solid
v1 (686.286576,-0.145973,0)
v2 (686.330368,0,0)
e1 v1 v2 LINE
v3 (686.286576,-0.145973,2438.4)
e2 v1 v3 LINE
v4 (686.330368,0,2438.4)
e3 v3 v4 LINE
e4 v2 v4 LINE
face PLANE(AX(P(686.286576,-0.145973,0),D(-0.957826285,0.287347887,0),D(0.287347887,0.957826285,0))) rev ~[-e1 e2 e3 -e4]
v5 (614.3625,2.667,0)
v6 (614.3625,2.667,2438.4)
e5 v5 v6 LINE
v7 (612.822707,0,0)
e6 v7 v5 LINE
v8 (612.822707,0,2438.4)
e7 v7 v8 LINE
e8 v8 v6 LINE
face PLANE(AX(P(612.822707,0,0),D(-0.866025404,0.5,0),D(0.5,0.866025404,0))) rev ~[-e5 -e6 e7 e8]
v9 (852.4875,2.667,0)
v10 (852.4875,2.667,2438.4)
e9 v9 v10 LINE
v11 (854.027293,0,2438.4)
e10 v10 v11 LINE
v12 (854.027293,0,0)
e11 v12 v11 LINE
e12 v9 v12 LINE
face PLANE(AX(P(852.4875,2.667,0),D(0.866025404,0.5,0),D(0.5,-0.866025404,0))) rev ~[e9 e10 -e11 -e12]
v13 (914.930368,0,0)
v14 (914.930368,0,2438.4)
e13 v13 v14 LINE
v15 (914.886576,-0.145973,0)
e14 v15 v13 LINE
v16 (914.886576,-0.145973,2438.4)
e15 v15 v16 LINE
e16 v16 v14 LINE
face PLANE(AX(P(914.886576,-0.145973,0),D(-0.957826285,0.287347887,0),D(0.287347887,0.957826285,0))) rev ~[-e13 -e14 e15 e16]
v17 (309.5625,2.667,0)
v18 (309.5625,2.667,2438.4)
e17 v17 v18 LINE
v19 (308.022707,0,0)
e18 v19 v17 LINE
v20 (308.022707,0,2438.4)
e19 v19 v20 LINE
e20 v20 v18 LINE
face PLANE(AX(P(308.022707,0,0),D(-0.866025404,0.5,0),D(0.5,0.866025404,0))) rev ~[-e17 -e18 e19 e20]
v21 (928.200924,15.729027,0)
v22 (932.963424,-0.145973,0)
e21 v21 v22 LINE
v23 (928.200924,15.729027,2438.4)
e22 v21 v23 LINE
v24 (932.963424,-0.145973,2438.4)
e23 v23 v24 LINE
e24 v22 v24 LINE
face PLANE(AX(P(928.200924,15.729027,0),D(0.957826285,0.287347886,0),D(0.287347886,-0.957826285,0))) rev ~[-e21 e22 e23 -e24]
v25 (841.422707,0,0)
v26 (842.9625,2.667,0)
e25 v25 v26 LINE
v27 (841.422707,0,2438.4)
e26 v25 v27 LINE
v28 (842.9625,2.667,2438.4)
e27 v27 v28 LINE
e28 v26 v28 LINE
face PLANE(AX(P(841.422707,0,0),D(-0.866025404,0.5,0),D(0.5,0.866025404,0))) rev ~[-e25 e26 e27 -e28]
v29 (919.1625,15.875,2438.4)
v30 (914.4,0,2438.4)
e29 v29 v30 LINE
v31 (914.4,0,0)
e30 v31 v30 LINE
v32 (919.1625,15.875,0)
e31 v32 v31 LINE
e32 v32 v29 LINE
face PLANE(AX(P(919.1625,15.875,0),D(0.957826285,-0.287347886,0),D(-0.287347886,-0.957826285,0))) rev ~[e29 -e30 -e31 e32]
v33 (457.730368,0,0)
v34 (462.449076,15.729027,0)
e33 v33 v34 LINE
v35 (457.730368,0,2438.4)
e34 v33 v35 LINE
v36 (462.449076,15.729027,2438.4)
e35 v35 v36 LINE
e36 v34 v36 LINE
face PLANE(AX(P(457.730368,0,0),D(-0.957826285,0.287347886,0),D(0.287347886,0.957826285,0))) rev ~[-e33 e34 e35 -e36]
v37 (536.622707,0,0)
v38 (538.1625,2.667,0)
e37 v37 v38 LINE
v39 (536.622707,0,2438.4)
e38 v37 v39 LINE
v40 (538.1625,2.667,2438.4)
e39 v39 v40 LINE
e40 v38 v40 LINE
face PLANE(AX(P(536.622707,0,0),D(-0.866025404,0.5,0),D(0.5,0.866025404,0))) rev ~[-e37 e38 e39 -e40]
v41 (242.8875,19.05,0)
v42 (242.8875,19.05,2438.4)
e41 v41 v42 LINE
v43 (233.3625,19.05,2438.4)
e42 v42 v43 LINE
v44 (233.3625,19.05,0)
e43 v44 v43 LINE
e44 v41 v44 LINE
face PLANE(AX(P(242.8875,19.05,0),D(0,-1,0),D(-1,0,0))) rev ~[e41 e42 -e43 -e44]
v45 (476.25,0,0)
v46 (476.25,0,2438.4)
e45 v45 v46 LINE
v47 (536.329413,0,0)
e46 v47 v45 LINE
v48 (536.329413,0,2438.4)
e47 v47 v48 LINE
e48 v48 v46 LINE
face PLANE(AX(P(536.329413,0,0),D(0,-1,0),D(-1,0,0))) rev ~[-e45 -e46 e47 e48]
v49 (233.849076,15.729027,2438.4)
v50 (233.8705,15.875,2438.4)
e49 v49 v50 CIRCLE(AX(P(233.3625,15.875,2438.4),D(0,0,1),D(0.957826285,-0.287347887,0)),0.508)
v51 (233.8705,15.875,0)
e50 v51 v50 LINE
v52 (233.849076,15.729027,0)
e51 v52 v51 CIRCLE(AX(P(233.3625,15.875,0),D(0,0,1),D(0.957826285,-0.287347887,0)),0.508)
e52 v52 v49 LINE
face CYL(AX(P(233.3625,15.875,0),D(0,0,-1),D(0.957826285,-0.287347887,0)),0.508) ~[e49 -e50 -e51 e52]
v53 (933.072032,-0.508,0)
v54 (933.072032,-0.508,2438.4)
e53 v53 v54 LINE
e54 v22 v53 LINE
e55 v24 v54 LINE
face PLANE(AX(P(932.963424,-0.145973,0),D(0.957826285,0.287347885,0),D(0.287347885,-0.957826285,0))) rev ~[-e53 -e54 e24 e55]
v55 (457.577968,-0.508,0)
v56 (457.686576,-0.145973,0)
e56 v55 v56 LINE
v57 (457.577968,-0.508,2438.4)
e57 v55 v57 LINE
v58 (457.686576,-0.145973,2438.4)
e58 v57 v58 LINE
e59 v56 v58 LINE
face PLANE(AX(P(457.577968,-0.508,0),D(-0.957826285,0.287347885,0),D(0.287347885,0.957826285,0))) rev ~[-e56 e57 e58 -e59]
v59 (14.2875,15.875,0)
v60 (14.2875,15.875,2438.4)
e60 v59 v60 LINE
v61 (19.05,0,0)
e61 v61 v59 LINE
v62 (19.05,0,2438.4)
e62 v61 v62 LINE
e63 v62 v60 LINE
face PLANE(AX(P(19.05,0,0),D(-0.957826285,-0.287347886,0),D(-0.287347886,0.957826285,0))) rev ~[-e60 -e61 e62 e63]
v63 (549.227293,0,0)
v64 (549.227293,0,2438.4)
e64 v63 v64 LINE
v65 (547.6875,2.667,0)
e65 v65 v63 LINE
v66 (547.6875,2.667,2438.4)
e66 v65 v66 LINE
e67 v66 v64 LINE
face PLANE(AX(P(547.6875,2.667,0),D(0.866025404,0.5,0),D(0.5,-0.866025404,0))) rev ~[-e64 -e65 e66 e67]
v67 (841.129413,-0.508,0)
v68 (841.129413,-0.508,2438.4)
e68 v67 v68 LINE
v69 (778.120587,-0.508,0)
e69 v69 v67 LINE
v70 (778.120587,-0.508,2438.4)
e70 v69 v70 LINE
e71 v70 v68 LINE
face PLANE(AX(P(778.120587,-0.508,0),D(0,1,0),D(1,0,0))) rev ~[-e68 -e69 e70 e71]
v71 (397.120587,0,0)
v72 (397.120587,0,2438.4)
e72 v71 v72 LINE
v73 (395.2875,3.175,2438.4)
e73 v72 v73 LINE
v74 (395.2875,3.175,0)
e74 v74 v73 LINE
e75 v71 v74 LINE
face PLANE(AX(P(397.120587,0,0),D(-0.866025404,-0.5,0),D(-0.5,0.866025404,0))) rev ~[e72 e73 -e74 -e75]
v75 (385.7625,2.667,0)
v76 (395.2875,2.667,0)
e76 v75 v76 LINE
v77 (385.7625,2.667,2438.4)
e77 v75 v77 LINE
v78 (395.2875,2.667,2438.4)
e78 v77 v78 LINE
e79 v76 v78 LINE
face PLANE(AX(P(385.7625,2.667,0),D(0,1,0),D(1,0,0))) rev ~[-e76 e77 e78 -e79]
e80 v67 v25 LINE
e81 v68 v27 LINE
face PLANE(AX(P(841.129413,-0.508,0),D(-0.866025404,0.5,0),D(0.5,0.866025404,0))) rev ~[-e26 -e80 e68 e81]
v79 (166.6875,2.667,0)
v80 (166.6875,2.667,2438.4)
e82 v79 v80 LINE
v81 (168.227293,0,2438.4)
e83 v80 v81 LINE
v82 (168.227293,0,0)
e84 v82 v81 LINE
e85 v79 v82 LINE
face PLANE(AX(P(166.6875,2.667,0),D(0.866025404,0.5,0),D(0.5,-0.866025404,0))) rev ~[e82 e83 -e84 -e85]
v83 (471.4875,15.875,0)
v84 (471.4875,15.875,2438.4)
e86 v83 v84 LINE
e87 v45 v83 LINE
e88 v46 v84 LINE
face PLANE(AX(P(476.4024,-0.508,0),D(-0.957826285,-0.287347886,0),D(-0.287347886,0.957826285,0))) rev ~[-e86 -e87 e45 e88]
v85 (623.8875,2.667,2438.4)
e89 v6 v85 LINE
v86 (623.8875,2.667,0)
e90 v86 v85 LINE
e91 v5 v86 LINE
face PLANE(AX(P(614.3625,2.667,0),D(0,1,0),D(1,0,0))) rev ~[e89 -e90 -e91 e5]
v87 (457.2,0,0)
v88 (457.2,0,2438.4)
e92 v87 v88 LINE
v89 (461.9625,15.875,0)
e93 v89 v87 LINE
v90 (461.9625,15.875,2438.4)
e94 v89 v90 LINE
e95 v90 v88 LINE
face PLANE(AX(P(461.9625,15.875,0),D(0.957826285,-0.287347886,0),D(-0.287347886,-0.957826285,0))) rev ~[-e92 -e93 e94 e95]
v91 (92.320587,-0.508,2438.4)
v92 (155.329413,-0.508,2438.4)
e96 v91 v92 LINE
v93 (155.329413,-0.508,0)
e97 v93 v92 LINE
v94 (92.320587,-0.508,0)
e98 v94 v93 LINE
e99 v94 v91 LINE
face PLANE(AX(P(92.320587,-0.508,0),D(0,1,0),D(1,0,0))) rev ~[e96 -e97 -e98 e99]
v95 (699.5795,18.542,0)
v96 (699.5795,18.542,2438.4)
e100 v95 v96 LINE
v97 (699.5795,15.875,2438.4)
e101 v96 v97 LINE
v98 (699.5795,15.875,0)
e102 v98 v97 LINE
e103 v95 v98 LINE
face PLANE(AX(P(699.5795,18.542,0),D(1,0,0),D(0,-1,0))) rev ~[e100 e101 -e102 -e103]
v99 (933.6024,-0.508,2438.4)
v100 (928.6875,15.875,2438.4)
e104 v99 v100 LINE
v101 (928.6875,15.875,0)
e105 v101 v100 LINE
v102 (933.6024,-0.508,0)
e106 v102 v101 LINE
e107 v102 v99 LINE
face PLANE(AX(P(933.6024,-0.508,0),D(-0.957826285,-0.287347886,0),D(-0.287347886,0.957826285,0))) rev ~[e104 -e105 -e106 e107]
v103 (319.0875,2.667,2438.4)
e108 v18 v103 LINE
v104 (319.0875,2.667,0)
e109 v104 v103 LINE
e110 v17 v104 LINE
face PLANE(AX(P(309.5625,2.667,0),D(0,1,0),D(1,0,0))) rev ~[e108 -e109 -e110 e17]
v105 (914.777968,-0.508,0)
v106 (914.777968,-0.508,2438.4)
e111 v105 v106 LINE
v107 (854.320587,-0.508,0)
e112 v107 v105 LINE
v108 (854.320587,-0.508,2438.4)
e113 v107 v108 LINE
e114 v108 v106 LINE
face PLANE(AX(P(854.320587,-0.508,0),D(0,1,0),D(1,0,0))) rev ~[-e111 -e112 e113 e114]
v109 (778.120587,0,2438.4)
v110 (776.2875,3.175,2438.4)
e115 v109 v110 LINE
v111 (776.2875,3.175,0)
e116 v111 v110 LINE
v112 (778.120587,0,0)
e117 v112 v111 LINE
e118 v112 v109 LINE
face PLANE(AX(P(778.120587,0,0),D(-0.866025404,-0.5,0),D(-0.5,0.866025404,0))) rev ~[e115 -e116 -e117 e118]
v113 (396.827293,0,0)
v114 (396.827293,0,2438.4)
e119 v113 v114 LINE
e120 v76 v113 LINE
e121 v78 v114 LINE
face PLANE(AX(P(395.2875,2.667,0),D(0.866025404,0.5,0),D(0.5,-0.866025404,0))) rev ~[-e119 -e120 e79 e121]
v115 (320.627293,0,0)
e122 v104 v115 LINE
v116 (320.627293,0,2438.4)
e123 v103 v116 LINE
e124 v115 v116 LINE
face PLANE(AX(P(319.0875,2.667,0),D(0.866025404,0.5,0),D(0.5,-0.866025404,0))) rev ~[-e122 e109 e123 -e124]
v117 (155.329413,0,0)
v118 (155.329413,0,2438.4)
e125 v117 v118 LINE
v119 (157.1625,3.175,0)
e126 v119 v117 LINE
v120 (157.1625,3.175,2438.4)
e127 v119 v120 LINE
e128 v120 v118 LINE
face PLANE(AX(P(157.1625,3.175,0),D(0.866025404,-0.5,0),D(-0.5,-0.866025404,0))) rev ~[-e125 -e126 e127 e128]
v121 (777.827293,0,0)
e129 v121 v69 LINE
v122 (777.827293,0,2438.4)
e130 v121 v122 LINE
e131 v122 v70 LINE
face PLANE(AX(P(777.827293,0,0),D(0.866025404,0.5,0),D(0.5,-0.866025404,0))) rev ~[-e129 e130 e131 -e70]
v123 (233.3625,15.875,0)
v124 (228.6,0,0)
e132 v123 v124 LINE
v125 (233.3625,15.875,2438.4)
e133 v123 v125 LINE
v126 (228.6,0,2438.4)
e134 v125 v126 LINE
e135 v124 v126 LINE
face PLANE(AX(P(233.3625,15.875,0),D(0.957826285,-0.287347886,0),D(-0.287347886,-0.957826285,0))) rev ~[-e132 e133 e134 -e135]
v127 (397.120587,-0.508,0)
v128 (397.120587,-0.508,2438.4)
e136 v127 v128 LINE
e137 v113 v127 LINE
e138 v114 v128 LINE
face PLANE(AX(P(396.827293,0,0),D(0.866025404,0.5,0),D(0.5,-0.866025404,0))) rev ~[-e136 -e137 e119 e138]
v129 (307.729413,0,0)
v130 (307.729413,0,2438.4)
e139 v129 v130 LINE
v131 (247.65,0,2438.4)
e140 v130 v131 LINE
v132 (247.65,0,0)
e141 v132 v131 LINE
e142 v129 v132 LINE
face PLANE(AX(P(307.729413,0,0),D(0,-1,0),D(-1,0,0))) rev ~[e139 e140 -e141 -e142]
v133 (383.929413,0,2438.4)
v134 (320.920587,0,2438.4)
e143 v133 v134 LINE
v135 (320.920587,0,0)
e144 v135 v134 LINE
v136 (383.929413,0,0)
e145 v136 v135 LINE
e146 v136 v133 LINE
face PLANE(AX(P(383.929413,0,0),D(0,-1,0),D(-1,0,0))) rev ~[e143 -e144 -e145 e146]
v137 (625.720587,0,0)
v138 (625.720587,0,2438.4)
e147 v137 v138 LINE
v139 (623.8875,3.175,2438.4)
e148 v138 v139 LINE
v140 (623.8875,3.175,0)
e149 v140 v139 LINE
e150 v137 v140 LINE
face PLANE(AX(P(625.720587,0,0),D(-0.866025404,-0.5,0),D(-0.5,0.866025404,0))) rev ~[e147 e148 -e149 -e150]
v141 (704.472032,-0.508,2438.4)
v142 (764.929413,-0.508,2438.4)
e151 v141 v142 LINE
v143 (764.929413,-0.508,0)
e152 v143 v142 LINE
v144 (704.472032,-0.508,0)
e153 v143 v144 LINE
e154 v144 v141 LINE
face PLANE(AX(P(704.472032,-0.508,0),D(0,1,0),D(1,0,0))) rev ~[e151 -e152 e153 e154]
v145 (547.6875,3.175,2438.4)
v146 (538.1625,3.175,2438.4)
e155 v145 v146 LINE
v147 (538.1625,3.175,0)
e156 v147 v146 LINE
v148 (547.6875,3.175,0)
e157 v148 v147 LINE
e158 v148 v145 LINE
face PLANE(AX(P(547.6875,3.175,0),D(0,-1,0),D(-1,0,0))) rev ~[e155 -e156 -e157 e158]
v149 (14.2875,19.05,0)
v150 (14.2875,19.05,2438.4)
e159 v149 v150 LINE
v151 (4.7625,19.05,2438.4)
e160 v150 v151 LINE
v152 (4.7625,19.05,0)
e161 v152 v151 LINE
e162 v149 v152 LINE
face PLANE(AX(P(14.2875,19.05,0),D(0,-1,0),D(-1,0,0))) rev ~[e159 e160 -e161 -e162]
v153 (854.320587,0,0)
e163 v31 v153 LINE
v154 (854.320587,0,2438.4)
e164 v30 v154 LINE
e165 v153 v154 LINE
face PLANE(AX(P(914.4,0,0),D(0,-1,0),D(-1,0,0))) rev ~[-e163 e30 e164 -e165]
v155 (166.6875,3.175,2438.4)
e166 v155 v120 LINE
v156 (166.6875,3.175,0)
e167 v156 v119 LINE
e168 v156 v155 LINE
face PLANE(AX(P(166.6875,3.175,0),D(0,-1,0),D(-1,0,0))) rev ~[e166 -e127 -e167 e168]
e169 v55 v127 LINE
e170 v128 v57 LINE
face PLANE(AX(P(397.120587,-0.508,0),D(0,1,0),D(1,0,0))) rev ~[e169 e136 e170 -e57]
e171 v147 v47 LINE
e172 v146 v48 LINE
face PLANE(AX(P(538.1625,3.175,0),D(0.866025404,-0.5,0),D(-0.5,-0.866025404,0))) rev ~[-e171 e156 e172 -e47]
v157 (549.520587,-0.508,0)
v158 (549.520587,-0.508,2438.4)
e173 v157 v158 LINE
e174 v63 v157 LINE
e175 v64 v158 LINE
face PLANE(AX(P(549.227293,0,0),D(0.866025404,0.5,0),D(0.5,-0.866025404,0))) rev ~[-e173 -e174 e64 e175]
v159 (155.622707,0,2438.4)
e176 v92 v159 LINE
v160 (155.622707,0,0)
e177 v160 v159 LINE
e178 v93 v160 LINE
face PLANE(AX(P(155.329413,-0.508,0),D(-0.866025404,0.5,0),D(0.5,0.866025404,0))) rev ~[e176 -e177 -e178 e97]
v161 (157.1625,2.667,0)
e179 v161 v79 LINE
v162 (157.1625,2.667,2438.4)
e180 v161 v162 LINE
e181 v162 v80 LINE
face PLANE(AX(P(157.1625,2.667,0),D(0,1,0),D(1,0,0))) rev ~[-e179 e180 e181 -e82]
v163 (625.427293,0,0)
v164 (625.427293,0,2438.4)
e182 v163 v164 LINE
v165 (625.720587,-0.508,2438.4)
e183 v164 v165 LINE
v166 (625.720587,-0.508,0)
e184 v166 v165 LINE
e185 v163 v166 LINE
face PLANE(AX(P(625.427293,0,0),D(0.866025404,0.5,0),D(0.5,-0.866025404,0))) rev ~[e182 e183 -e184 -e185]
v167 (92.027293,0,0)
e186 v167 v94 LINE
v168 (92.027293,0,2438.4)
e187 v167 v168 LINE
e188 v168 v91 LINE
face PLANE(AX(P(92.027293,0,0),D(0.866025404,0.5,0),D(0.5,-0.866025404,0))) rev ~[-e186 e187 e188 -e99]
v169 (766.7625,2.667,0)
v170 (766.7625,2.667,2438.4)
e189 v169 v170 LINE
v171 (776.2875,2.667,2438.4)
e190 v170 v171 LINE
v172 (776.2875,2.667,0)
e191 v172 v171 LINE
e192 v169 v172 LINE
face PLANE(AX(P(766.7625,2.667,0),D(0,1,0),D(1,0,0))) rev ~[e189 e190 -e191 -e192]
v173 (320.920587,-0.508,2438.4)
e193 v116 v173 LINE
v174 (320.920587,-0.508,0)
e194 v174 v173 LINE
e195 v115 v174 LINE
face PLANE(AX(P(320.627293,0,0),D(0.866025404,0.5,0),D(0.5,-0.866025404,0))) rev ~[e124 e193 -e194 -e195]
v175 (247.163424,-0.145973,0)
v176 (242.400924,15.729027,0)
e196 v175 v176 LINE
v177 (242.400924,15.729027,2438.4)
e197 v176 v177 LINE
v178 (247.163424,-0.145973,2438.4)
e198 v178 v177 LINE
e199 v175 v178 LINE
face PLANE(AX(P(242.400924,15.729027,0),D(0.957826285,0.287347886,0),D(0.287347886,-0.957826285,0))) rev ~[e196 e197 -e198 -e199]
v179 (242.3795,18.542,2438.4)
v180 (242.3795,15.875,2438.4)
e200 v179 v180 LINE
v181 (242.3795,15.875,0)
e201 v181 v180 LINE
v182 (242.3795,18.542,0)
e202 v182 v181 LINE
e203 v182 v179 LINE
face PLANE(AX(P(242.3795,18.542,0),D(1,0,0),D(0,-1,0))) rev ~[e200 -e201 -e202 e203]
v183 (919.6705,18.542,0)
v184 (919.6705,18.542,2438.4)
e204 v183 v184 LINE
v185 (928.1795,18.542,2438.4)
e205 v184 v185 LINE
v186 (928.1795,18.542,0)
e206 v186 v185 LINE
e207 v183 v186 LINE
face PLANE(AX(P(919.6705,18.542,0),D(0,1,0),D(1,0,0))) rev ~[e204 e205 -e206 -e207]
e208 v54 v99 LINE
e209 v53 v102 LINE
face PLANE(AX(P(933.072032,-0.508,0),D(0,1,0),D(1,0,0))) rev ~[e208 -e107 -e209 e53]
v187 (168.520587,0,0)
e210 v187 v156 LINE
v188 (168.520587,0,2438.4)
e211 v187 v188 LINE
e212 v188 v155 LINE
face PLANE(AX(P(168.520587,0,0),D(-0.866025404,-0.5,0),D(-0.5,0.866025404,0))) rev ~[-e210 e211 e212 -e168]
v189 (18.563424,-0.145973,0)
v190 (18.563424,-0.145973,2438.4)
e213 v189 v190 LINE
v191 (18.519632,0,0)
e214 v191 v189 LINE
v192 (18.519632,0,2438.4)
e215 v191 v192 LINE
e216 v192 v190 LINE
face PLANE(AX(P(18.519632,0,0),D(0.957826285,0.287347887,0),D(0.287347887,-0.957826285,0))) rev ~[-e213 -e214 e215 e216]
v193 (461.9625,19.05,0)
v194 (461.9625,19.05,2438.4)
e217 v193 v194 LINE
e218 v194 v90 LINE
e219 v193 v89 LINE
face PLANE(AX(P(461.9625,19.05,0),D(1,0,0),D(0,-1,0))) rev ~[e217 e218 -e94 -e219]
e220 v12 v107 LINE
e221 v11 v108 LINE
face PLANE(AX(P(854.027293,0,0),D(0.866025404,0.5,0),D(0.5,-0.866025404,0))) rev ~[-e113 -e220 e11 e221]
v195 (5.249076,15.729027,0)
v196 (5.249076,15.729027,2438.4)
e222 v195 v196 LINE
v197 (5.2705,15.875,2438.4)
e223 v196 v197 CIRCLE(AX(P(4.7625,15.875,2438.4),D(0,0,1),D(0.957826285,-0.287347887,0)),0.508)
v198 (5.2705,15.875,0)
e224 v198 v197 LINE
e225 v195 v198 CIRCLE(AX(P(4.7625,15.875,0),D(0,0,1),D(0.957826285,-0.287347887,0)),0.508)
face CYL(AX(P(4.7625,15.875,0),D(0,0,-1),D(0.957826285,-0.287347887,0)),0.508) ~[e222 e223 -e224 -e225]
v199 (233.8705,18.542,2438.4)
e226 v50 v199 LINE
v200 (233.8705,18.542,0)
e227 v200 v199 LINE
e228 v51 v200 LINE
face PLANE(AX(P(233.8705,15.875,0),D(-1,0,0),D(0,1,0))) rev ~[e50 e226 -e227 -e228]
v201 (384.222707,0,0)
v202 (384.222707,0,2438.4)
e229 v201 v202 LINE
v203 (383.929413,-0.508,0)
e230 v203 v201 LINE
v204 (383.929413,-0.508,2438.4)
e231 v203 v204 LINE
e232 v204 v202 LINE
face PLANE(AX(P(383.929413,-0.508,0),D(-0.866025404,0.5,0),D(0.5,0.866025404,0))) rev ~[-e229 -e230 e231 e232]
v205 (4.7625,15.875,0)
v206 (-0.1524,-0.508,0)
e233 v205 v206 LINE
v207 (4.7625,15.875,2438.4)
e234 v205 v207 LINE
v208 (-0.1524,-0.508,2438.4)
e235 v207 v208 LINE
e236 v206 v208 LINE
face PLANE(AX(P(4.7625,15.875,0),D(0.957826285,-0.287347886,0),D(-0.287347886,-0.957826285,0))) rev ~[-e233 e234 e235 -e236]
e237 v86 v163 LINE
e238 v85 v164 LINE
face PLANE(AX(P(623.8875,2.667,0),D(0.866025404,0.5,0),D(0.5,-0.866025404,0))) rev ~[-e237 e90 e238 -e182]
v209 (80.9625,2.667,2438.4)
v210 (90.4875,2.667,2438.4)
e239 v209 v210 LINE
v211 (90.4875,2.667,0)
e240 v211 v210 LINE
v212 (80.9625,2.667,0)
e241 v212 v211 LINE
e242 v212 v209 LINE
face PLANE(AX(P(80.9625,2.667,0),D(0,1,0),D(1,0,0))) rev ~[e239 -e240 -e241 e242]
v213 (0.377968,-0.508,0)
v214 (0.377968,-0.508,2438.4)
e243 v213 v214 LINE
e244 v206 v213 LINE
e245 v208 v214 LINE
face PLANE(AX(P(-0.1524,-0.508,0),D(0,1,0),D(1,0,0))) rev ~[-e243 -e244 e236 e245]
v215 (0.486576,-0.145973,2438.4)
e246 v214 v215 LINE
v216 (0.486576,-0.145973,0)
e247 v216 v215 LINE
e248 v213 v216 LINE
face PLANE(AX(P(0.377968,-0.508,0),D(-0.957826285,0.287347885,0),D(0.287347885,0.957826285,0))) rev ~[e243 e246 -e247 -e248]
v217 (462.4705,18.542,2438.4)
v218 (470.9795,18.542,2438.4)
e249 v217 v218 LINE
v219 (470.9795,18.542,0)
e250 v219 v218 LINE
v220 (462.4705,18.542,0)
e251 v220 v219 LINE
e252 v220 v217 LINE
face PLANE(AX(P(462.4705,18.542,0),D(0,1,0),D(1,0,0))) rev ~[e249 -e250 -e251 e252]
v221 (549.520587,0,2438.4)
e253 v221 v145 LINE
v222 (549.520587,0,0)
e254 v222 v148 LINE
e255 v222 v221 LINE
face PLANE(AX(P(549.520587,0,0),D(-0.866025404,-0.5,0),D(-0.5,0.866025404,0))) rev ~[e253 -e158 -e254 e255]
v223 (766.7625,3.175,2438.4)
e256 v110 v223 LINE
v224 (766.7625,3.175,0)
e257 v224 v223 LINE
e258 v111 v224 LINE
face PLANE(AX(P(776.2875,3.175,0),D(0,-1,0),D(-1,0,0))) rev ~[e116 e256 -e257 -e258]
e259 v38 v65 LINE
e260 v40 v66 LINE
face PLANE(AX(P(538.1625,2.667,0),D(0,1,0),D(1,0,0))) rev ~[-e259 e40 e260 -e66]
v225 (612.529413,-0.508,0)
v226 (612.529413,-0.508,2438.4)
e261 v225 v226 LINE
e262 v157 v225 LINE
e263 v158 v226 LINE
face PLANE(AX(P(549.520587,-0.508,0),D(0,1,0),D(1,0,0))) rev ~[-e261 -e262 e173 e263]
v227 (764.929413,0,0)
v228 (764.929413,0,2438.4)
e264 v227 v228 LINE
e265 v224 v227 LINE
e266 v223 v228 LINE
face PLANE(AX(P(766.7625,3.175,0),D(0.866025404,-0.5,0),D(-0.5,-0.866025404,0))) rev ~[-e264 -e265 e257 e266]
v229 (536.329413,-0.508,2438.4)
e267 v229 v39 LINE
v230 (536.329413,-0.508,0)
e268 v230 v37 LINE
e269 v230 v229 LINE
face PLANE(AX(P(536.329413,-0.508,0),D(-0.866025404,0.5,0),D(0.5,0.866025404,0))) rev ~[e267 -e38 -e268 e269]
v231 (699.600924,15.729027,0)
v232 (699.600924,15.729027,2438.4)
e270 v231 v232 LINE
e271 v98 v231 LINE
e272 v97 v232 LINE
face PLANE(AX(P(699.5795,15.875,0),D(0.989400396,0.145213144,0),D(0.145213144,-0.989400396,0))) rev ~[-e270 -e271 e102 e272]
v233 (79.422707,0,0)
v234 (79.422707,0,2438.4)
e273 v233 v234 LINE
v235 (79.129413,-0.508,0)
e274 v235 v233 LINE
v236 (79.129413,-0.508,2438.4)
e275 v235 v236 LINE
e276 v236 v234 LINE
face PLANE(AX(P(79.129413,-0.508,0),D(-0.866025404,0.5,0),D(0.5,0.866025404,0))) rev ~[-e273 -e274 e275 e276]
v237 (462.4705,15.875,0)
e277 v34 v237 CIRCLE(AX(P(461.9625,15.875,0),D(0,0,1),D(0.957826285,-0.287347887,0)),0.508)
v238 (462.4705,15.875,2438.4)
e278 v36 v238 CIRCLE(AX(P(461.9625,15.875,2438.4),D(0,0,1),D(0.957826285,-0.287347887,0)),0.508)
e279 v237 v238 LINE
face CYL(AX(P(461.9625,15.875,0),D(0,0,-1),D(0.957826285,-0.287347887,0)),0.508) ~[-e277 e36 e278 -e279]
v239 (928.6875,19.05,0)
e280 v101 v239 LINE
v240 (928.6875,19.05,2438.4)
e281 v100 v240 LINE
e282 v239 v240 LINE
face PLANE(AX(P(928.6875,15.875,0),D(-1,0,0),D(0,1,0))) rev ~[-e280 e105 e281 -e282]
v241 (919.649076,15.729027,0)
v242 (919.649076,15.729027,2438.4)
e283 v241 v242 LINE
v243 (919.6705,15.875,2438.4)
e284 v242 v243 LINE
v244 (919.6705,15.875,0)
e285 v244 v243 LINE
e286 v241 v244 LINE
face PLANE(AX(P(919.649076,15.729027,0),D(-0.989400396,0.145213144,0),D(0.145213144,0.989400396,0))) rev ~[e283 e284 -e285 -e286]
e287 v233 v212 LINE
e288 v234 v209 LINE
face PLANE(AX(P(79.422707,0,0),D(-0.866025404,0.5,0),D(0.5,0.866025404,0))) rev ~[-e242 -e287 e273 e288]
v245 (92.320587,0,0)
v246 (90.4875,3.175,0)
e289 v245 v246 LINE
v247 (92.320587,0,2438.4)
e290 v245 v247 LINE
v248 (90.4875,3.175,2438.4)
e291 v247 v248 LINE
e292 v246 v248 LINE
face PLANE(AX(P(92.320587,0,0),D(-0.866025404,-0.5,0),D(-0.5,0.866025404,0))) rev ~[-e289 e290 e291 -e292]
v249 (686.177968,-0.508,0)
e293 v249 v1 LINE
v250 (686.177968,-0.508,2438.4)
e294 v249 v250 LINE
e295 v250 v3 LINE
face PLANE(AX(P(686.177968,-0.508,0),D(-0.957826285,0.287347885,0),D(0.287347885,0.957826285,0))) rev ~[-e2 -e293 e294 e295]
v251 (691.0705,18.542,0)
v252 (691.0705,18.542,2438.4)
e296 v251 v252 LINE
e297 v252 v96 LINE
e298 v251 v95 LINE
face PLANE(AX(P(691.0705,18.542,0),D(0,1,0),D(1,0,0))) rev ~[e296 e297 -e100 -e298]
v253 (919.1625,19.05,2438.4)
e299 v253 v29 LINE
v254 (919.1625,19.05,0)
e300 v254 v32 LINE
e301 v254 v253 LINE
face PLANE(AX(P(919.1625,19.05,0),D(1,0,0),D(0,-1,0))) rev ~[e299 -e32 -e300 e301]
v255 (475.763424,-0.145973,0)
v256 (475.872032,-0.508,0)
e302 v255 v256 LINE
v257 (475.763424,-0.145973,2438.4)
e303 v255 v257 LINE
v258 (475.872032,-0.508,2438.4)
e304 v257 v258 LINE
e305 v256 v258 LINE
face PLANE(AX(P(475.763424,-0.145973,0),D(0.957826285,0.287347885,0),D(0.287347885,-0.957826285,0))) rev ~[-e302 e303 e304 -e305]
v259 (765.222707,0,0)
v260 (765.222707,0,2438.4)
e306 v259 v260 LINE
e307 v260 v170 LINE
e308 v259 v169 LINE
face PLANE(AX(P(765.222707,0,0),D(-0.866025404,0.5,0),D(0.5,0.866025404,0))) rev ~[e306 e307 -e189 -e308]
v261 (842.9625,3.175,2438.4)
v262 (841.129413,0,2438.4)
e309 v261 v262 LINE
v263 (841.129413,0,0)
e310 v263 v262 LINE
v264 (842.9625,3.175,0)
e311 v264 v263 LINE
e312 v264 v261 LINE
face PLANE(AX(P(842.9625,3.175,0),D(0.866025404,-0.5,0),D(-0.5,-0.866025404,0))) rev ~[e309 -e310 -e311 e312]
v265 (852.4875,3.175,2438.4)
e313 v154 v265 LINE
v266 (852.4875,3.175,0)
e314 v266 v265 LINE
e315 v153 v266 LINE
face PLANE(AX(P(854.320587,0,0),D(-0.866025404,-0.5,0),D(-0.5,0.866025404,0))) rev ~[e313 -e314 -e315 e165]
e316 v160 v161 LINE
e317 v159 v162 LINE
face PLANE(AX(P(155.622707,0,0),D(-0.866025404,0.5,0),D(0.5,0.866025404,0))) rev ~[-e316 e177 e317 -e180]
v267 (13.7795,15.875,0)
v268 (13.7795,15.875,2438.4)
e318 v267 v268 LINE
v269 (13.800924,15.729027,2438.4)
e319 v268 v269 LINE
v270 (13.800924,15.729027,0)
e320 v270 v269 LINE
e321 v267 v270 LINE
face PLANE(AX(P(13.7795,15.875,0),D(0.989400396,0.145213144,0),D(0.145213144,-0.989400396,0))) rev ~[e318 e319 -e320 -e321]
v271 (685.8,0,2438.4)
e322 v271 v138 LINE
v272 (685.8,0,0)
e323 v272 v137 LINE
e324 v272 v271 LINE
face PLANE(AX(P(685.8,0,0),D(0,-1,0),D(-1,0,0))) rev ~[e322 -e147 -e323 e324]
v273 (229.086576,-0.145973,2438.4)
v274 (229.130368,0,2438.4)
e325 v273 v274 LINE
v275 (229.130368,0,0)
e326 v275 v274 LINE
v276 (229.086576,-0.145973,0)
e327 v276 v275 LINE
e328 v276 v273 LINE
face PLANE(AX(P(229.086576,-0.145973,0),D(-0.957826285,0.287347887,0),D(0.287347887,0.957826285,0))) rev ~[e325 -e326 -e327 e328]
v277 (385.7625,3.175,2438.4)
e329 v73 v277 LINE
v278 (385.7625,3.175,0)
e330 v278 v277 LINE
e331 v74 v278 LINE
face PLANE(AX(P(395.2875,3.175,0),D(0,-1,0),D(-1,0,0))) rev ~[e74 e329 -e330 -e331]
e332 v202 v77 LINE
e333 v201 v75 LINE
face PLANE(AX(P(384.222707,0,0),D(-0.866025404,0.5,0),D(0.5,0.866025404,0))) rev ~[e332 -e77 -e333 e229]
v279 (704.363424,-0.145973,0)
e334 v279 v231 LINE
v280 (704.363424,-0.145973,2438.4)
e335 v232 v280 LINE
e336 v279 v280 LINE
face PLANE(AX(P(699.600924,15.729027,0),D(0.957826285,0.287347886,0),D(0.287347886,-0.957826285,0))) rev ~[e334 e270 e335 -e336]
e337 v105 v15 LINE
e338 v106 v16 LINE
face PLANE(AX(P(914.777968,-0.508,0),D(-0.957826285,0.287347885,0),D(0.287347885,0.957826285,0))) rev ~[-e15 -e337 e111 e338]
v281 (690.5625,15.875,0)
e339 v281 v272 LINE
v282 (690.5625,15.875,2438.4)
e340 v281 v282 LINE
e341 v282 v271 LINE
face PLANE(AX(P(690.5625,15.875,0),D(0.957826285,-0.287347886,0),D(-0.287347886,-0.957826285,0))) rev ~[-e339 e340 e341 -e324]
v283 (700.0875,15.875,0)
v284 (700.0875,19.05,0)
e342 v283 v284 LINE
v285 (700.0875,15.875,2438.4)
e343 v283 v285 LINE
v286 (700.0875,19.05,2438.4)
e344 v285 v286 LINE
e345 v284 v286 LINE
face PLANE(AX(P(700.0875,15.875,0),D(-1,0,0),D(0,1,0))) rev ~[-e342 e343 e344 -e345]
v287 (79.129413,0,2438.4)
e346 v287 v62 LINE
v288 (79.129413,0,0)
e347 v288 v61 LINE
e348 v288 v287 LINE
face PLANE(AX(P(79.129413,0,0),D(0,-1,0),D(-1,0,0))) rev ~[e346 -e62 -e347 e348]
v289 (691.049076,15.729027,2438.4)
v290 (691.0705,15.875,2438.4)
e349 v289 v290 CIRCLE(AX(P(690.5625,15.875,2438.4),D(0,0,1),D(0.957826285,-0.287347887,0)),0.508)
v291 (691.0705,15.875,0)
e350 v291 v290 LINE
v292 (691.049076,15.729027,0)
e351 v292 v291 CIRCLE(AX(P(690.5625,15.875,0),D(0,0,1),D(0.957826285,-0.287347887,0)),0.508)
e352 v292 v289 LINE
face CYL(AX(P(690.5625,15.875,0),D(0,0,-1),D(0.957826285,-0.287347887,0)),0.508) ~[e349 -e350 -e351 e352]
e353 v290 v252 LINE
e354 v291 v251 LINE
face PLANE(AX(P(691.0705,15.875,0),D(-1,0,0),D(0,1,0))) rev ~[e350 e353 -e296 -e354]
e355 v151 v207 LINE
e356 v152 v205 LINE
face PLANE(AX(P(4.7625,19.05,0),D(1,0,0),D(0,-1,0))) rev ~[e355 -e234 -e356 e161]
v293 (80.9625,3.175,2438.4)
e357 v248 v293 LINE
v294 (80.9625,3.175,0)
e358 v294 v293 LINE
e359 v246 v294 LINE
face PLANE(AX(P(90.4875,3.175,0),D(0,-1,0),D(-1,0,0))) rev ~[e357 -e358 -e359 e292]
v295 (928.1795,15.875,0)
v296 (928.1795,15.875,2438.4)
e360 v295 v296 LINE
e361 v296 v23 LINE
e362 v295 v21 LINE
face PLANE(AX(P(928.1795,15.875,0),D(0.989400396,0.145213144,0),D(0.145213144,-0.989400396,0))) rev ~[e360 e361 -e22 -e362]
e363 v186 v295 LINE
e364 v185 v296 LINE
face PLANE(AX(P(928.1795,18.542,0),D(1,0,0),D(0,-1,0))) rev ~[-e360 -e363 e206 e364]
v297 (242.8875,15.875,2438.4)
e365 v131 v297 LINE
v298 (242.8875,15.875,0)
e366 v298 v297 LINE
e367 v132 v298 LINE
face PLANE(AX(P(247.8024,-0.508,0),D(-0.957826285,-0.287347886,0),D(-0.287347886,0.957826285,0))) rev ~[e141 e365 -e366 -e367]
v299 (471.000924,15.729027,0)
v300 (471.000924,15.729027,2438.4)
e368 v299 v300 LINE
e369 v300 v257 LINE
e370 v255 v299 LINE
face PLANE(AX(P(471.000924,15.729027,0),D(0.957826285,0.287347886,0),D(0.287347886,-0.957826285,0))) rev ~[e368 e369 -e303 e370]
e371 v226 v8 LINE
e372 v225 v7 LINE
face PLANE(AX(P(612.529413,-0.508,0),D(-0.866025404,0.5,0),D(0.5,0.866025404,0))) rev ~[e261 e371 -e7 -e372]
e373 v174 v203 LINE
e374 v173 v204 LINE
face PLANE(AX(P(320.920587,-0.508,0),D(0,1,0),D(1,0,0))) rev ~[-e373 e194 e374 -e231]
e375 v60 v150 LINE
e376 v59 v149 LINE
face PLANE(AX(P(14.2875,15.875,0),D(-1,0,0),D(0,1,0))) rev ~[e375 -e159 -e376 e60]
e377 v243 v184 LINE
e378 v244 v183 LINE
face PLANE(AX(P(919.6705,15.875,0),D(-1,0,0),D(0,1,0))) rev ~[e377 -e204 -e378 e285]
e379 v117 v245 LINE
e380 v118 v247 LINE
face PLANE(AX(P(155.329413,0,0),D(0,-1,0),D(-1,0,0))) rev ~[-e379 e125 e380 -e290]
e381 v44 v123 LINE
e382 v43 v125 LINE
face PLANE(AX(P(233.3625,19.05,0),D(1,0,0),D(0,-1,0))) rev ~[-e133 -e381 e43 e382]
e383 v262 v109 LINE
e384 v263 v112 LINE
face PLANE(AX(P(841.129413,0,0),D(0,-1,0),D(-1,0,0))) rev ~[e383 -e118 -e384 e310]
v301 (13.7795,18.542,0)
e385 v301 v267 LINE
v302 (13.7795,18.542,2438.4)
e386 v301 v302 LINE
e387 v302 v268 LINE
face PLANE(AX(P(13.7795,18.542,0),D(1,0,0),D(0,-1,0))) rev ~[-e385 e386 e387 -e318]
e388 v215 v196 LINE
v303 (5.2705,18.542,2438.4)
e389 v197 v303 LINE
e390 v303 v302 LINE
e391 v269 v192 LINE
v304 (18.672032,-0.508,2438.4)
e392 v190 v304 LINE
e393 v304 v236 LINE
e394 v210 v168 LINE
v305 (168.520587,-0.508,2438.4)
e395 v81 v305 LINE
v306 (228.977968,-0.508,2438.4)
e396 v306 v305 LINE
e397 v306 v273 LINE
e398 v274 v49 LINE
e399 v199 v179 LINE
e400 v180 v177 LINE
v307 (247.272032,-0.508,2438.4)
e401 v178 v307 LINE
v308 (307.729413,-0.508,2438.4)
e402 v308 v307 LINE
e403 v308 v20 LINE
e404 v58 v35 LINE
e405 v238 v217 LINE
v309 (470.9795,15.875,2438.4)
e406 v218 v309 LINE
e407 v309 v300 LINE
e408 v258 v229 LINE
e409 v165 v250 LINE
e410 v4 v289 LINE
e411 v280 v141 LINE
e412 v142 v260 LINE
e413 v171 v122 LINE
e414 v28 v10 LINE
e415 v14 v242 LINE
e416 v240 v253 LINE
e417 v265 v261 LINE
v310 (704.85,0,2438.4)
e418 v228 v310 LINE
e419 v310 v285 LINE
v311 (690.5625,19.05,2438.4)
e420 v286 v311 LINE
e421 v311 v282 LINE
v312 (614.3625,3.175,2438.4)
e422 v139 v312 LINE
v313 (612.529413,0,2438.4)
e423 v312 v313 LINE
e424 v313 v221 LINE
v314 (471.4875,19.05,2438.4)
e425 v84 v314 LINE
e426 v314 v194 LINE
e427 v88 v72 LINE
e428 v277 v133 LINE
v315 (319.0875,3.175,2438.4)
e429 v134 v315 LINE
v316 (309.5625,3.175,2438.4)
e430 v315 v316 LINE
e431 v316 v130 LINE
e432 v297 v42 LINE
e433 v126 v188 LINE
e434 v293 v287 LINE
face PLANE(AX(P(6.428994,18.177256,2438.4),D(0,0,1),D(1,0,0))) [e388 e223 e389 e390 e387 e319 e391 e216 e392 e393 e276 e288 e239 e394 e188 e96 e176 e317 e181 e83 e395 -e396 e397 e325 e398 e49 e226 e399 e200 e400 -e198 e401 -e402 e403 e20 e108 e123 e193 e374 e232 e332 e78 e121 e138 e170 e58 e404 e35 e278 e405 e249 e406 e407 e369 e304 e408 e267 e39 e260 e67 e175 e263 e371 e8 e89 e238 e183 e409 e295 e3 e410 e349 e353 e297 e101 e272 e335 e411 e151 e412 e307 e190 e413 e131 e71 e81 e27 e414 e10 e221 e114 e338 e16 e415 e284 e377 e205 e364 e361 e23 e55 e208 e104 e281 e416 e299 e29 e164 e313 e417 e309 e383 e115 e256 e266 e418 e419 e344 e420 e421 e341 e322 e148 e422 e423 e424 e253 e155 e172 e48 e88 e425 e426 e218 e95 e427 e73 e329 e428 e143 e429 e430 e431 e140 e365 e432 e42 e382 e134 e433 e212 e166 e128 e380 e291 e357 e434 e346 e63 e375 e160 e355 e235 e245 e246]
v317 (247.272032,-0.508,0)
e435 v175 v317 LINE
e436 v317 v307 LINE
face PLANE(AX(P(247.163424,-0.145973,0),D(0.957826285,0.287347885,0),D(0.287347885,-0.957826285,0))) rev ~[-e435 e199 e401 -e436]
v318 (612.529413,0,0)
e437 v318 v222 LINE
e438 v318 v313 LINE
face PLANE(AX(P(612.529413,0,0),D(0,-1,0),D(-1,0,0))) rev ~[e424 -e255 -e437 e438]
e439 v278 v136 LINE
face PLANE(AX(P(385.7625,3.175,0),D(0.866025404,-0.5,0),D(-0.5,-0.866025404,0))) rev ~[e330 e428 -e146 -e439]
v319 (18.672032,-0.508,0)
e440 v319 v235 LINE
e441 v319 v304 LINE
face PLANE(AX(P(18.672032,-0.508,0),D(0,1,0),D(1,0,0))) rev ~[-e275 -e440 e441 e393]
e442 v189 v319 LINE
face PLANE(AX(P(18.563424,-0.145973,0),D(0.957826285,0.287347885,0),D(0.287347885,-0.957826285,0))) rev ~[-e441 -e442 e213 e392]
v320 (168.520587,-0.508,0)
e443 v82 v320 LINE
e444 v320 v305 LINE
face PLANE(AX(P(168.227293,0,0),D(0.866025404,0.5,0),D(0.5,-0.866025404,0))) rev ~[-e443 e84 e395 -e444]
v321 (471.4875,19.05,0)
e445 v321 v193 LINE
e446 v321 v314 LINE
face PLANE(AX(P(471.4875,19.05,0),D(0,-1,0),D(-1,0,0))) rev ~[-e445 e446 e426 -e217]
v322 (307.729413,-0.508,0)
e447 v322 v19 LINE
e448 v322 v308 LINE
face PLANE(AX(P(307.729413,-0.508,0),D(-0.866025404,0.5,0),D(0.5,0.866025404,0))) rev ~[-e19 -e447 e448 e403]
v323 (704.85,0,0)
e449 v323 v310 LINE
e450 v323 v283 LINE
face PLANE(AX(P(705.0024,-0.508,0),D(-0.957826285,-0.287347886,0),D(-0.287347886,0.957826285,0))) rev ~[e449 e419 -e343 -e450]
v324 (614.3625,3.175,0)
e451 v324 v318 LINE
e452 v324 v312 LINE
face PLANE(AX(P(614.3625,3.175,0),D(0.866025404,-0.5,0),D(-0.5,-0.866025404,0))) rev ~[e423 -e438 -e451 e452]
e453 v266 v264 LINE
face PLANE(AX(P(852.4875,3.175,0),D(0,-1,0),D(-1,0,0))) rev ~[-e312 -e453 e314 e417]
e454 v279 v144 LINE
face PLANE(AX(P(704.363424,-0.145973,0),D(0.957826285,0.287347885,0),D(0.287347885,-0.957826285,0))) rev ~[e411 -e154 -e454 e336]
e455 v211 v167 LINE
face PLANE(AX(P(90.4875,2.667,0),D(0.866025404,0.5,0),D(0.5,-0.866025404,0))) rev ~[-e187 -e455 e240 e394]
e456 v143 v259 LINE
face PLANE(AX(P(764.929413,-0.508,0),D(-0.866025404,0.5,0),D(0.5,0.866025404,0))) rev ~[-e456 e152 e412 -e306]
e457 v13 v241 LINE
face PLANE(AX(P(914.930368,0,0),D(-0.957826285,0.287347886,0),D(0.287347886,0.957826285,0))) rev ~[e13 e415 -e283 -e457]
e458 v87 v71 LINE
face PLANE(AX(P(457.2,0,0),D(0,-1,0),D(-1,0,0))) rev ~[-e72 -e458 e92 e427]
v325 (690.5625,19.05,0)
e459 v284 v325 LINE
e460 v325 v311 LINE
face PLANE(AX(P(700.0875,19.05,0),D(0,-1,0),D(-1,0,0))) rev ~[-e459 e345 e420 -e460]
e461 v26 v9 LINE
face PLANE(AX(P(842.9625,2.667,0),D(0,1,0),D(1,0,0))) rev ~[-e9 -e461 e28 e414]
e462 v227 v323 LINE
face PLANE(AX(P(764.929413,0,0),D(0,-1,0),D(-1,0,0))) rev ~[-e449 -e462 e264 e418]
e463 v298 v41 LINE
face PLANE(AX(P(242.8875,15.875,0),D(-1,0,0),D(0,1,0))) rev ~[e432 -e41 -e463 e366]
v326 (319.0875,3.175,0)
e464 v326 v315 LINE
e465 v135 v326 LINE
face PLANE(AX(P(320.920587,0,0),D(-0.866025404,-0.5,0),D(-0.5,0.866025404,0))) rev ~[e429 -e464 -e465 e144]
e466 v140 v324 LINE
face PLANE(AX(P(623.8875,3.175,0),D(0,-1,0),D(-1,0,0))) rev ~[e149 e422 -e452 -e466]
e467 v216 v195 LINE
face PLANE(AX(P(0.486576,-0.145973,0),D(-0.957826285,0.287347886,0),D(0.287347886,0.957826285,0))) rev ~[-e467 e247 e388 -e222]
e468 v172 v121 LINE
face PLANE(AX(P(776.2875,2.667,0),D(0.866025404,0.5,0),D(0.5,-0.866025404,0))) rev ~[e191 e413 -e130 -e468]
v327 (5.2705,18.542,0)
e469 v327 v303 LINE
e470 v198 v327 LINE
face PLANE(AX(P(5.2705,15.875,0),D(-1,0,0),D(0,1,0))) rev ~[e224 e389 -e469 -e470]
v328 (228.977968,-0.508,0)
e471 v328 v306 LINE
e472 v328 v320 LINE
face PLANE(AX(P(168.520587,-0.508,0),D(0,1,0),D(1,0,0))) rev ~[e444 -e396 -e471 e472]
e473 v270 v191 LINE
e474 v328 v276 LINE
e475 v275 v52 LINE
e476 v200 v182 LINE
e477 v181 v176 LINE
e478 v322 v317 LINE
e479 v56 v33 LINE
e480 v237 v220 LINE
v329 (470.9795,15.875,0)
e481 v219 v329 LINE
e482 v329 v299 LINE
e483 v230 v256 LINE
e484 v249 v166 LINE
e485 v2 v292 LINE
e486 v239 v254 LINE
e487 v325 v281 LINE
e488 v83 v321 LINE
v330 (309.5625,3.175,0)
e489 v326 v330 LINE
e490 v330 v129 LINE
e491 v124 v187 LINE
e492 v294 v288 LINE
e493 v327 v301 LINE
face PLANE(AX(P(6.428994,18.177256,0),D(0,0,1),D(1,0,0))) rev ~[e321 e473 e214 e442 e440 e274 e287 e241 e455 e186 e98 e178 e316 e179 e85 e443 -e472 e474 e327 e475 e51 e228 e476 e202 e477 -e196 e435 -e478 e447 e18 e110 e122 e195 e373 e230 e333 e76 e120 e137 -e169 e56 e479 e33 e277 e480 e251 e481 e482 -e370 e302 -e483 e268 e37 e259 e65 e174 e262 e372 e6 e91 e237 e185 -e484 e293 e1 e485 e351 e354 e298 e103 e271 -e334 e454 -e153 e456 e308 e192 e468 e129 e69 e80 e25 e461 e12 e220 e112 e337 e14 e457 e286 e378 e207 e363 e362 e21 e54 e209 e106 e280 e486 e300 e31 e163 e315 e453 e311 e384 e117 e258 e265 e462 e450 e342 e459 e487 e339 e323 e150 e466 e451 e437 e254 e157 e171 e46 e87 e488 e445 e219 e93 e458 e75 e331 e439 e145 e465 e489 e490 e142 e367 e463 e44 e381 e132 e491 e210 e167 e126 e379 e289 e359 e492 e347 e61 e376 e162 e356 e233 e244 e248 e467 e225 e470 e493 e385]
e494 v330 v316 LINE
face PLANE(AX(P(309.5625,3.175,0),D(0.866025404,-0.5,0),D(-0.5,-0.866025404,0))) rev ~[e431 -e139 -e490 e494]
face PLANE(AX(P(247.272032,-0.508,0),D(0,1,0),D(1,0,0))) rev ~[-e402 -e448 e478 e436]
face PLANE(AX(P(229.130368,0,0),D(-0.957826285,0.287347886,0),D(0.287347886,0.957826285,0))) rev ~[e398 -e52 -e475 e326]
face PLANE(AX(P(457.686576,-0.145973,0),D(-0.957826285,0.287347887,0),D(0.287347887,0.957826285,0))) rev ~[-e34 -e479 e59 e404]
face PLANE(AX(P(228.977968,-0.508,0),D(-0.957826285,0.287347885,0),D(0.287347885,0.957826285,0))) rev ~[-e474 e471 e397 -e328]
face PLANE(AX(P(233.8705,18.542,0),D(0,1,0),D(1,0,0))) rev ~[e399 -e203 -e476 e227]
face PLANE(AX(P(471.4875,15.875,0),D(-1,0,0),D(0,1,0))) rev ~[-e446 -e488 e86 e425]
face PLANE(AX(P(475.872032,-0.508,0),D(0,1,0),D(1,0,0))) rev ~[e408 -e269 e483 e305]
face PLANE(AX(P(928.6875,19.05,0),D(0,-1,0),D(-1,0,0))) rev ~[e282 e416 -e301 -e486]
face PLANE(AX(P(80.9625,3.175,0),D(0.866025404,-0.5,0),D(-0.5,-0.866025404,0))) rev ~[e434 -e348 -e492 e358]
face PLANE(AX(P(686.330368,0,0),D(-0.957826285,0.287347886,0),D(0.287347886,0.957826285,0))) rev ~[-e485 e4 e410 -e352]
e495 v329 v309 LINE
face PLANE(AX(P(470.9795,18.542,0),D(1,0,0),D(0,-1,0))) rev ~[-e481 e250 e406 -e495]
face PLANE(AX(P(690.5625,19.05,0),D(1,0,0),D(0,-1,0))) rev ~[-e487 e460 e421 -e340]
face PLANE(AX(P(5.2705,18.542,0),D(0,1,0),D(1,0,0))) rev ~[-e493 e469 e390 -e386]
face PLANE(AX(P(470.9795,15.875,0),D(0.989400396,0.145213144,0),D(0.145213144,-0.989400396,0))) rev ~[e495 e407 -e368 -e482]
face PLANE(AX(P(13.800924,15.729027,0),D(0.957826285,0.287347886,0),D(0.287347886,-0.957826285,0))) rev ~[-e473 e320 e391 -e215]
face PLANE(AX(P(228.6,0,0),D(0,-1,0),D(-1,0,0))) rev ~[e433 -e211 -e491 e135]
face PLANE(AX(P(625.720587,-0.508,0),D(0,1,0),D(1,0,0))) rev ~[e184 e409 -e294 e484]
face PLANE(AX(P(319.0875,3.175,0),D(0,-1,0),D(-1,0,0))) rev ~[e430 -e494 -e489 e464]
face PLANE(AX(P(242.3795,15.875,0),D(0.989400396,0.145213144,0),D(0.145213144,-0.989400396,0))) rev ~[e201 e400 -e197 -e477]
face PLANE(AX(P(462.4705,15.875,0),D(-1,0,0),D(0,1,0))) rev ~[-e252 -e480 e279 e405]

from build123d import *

# Parameters (mm, degrees)
SKETCH1_W           = 4.7625
SKETCH1_H           = 0.508
SKETCH1_W_2         = 31.504412895
BOSS_EXTRUDE1_DEPTH = 2438.4
LPATTERN1_COUNT     = 4
LPATTERN1_PITCH     = 228.6


with BuildPart() as part:
    # Sketch1 → Boss-Extrude1 (new body)
    with BuildSketch(Plane.XY):
        Polygon((4.7625, 15.875), (5.2705, 15.875), (5.2705, 18.542), (9.525, 18.542), (9.525, 19.05), (4.7625, 19.05), align=None)
        with BuildLine():
            ThreePointArc((5.249075753, 15.729027274), (5.265115401, 15.801231722), (5.2705, 15.875))
            Line((5.2705, 15.875), (4.7625, 15.875))
            Line((4.7625, 15.875), (0, 0))
            Line((0, 0), (-0.1524, -0.508))
            Line((-0.1524, -0.508), (0.377967571, -0.508))
            Line((0.377967571, -0.508), (0.486575753, -0.145972726))
            Line((0.486575753, -0.145972726), (5.249075753, 15.729027274))
        make_face()
        Polygon((9.525, 19.05), (9.525, 18.542), (13.7795, 18.542), (13.7795, 15.875), (14.2875, 15.875), (14.2875, 19.05), align=None)
        Polygon((14.2875, 15.875), (13.7795, 15.875), (13.800924247, 15.729027274), (18.519632429, 0), (19.05, 0), align=None)
        Polygon((79.129412895, 0), (19.05, 0), (18.519632429, 0), (18.563424247, -0.145972726), (18.672032429, -0.508), (79.129412895, -0.508), align=None)
        Polygon((79.422706832, 0), (79.129412895, 0), (79.129412895, -0.508), align=None)
        Polygon((80.9625, 3.175), (79.129412895, 0), (79.422706832, 0), (80.9625, 2.667), align=None)
        with Locations((83.34375, 2.921)):
            Rectangle(SKETCH1_W, SKETCH1_H)
        Polygon((92.320587105, -0.508), (92.320587105, 0), (92.027293168, 0), align=None)
        Polygon((92.320587105, 0), (90.4875, 3.175), (90.4875, 2.667), (92.027293168, 0), align=None)
        with Locations((88.10625, 2.921)):
            Rectangle(SKETCH1_W, SKETCH1_H)
        with Locations((108.072793553, -0.254)):
            Rectangle(SKETCH1_W_2, SKETCH1_H)
        with Locations((139.577206448, -0.254)):
            Rectangle(SKETCH1_W_2, SKETCH1_H)
        Polygon((155.622706832, 0), (155.329412895, 0), (155.329412895, -0.508), align=None)
        Polygon((157.1625, 3.175), (155.329412895, 0), (155.622706832, 0), (157.1625, 2.667), align=None)
        with Locations((159.54375, 2.921)):
            Rectangle(SKETCH1_W, SKETCH1_H)
        with Locations((164.30625, 2.921)):
            Rectangle(SKETCH1_W, SKETCH1_H)
        Polygon((168.520587105, 0), (166.6875, 3.175), (166.6875, 2.667), (168.227293168, 0), align=None)
        Polygon((168.520587105, -0.508), (168.520587105, 0), (168.227293168, 0), align=None)
        Polygon((228.6, 0), (168.520587105, 0), (168.520587105, -0.508), (228.977967571, -0.508), (229.086575753, -0.145972726), (229.130367571, 0), align=None)
        Polygon((233.3625, 15.875), (228.6, 0), (229.130367571, 0), (233.849075753, 15.729027274), (233.8705, 15.875), align=None)
        Polygon((233.3625, 19.05), (233.3625, 15.875), (233.8705, 15.875), (233.8705, 18.542), (238.125, 18.542), (238.125, 19.05), align=None)
        Polygon((242.8875, 19.05), (238.125, 19.05), (238.125, 18.542), (242.3795, 18.542), (242.3795, 15.875), (242.8875, 15.875), align=None)
        Polygon((247.163424247, -0.145972726), (247.272032429, -0.508), (247.8024, -0.508), (247.65, 0), (242.8875, 15.875), (242.3795, 15.875), (242.400924247, 15.729027274), align=None)
    boss_extrude1 = extrude(amount=BOSS_EXTRUDE1_DEPTH)

    # LPattern1: Boss-Extrude1 ×4
    with Locations(*[(i * LPATTERN1_PITCH, 0, 0) for i in range(1, LPATTERN1_COUNT)]):
        add(boss_extrude1)


solid = part.part
